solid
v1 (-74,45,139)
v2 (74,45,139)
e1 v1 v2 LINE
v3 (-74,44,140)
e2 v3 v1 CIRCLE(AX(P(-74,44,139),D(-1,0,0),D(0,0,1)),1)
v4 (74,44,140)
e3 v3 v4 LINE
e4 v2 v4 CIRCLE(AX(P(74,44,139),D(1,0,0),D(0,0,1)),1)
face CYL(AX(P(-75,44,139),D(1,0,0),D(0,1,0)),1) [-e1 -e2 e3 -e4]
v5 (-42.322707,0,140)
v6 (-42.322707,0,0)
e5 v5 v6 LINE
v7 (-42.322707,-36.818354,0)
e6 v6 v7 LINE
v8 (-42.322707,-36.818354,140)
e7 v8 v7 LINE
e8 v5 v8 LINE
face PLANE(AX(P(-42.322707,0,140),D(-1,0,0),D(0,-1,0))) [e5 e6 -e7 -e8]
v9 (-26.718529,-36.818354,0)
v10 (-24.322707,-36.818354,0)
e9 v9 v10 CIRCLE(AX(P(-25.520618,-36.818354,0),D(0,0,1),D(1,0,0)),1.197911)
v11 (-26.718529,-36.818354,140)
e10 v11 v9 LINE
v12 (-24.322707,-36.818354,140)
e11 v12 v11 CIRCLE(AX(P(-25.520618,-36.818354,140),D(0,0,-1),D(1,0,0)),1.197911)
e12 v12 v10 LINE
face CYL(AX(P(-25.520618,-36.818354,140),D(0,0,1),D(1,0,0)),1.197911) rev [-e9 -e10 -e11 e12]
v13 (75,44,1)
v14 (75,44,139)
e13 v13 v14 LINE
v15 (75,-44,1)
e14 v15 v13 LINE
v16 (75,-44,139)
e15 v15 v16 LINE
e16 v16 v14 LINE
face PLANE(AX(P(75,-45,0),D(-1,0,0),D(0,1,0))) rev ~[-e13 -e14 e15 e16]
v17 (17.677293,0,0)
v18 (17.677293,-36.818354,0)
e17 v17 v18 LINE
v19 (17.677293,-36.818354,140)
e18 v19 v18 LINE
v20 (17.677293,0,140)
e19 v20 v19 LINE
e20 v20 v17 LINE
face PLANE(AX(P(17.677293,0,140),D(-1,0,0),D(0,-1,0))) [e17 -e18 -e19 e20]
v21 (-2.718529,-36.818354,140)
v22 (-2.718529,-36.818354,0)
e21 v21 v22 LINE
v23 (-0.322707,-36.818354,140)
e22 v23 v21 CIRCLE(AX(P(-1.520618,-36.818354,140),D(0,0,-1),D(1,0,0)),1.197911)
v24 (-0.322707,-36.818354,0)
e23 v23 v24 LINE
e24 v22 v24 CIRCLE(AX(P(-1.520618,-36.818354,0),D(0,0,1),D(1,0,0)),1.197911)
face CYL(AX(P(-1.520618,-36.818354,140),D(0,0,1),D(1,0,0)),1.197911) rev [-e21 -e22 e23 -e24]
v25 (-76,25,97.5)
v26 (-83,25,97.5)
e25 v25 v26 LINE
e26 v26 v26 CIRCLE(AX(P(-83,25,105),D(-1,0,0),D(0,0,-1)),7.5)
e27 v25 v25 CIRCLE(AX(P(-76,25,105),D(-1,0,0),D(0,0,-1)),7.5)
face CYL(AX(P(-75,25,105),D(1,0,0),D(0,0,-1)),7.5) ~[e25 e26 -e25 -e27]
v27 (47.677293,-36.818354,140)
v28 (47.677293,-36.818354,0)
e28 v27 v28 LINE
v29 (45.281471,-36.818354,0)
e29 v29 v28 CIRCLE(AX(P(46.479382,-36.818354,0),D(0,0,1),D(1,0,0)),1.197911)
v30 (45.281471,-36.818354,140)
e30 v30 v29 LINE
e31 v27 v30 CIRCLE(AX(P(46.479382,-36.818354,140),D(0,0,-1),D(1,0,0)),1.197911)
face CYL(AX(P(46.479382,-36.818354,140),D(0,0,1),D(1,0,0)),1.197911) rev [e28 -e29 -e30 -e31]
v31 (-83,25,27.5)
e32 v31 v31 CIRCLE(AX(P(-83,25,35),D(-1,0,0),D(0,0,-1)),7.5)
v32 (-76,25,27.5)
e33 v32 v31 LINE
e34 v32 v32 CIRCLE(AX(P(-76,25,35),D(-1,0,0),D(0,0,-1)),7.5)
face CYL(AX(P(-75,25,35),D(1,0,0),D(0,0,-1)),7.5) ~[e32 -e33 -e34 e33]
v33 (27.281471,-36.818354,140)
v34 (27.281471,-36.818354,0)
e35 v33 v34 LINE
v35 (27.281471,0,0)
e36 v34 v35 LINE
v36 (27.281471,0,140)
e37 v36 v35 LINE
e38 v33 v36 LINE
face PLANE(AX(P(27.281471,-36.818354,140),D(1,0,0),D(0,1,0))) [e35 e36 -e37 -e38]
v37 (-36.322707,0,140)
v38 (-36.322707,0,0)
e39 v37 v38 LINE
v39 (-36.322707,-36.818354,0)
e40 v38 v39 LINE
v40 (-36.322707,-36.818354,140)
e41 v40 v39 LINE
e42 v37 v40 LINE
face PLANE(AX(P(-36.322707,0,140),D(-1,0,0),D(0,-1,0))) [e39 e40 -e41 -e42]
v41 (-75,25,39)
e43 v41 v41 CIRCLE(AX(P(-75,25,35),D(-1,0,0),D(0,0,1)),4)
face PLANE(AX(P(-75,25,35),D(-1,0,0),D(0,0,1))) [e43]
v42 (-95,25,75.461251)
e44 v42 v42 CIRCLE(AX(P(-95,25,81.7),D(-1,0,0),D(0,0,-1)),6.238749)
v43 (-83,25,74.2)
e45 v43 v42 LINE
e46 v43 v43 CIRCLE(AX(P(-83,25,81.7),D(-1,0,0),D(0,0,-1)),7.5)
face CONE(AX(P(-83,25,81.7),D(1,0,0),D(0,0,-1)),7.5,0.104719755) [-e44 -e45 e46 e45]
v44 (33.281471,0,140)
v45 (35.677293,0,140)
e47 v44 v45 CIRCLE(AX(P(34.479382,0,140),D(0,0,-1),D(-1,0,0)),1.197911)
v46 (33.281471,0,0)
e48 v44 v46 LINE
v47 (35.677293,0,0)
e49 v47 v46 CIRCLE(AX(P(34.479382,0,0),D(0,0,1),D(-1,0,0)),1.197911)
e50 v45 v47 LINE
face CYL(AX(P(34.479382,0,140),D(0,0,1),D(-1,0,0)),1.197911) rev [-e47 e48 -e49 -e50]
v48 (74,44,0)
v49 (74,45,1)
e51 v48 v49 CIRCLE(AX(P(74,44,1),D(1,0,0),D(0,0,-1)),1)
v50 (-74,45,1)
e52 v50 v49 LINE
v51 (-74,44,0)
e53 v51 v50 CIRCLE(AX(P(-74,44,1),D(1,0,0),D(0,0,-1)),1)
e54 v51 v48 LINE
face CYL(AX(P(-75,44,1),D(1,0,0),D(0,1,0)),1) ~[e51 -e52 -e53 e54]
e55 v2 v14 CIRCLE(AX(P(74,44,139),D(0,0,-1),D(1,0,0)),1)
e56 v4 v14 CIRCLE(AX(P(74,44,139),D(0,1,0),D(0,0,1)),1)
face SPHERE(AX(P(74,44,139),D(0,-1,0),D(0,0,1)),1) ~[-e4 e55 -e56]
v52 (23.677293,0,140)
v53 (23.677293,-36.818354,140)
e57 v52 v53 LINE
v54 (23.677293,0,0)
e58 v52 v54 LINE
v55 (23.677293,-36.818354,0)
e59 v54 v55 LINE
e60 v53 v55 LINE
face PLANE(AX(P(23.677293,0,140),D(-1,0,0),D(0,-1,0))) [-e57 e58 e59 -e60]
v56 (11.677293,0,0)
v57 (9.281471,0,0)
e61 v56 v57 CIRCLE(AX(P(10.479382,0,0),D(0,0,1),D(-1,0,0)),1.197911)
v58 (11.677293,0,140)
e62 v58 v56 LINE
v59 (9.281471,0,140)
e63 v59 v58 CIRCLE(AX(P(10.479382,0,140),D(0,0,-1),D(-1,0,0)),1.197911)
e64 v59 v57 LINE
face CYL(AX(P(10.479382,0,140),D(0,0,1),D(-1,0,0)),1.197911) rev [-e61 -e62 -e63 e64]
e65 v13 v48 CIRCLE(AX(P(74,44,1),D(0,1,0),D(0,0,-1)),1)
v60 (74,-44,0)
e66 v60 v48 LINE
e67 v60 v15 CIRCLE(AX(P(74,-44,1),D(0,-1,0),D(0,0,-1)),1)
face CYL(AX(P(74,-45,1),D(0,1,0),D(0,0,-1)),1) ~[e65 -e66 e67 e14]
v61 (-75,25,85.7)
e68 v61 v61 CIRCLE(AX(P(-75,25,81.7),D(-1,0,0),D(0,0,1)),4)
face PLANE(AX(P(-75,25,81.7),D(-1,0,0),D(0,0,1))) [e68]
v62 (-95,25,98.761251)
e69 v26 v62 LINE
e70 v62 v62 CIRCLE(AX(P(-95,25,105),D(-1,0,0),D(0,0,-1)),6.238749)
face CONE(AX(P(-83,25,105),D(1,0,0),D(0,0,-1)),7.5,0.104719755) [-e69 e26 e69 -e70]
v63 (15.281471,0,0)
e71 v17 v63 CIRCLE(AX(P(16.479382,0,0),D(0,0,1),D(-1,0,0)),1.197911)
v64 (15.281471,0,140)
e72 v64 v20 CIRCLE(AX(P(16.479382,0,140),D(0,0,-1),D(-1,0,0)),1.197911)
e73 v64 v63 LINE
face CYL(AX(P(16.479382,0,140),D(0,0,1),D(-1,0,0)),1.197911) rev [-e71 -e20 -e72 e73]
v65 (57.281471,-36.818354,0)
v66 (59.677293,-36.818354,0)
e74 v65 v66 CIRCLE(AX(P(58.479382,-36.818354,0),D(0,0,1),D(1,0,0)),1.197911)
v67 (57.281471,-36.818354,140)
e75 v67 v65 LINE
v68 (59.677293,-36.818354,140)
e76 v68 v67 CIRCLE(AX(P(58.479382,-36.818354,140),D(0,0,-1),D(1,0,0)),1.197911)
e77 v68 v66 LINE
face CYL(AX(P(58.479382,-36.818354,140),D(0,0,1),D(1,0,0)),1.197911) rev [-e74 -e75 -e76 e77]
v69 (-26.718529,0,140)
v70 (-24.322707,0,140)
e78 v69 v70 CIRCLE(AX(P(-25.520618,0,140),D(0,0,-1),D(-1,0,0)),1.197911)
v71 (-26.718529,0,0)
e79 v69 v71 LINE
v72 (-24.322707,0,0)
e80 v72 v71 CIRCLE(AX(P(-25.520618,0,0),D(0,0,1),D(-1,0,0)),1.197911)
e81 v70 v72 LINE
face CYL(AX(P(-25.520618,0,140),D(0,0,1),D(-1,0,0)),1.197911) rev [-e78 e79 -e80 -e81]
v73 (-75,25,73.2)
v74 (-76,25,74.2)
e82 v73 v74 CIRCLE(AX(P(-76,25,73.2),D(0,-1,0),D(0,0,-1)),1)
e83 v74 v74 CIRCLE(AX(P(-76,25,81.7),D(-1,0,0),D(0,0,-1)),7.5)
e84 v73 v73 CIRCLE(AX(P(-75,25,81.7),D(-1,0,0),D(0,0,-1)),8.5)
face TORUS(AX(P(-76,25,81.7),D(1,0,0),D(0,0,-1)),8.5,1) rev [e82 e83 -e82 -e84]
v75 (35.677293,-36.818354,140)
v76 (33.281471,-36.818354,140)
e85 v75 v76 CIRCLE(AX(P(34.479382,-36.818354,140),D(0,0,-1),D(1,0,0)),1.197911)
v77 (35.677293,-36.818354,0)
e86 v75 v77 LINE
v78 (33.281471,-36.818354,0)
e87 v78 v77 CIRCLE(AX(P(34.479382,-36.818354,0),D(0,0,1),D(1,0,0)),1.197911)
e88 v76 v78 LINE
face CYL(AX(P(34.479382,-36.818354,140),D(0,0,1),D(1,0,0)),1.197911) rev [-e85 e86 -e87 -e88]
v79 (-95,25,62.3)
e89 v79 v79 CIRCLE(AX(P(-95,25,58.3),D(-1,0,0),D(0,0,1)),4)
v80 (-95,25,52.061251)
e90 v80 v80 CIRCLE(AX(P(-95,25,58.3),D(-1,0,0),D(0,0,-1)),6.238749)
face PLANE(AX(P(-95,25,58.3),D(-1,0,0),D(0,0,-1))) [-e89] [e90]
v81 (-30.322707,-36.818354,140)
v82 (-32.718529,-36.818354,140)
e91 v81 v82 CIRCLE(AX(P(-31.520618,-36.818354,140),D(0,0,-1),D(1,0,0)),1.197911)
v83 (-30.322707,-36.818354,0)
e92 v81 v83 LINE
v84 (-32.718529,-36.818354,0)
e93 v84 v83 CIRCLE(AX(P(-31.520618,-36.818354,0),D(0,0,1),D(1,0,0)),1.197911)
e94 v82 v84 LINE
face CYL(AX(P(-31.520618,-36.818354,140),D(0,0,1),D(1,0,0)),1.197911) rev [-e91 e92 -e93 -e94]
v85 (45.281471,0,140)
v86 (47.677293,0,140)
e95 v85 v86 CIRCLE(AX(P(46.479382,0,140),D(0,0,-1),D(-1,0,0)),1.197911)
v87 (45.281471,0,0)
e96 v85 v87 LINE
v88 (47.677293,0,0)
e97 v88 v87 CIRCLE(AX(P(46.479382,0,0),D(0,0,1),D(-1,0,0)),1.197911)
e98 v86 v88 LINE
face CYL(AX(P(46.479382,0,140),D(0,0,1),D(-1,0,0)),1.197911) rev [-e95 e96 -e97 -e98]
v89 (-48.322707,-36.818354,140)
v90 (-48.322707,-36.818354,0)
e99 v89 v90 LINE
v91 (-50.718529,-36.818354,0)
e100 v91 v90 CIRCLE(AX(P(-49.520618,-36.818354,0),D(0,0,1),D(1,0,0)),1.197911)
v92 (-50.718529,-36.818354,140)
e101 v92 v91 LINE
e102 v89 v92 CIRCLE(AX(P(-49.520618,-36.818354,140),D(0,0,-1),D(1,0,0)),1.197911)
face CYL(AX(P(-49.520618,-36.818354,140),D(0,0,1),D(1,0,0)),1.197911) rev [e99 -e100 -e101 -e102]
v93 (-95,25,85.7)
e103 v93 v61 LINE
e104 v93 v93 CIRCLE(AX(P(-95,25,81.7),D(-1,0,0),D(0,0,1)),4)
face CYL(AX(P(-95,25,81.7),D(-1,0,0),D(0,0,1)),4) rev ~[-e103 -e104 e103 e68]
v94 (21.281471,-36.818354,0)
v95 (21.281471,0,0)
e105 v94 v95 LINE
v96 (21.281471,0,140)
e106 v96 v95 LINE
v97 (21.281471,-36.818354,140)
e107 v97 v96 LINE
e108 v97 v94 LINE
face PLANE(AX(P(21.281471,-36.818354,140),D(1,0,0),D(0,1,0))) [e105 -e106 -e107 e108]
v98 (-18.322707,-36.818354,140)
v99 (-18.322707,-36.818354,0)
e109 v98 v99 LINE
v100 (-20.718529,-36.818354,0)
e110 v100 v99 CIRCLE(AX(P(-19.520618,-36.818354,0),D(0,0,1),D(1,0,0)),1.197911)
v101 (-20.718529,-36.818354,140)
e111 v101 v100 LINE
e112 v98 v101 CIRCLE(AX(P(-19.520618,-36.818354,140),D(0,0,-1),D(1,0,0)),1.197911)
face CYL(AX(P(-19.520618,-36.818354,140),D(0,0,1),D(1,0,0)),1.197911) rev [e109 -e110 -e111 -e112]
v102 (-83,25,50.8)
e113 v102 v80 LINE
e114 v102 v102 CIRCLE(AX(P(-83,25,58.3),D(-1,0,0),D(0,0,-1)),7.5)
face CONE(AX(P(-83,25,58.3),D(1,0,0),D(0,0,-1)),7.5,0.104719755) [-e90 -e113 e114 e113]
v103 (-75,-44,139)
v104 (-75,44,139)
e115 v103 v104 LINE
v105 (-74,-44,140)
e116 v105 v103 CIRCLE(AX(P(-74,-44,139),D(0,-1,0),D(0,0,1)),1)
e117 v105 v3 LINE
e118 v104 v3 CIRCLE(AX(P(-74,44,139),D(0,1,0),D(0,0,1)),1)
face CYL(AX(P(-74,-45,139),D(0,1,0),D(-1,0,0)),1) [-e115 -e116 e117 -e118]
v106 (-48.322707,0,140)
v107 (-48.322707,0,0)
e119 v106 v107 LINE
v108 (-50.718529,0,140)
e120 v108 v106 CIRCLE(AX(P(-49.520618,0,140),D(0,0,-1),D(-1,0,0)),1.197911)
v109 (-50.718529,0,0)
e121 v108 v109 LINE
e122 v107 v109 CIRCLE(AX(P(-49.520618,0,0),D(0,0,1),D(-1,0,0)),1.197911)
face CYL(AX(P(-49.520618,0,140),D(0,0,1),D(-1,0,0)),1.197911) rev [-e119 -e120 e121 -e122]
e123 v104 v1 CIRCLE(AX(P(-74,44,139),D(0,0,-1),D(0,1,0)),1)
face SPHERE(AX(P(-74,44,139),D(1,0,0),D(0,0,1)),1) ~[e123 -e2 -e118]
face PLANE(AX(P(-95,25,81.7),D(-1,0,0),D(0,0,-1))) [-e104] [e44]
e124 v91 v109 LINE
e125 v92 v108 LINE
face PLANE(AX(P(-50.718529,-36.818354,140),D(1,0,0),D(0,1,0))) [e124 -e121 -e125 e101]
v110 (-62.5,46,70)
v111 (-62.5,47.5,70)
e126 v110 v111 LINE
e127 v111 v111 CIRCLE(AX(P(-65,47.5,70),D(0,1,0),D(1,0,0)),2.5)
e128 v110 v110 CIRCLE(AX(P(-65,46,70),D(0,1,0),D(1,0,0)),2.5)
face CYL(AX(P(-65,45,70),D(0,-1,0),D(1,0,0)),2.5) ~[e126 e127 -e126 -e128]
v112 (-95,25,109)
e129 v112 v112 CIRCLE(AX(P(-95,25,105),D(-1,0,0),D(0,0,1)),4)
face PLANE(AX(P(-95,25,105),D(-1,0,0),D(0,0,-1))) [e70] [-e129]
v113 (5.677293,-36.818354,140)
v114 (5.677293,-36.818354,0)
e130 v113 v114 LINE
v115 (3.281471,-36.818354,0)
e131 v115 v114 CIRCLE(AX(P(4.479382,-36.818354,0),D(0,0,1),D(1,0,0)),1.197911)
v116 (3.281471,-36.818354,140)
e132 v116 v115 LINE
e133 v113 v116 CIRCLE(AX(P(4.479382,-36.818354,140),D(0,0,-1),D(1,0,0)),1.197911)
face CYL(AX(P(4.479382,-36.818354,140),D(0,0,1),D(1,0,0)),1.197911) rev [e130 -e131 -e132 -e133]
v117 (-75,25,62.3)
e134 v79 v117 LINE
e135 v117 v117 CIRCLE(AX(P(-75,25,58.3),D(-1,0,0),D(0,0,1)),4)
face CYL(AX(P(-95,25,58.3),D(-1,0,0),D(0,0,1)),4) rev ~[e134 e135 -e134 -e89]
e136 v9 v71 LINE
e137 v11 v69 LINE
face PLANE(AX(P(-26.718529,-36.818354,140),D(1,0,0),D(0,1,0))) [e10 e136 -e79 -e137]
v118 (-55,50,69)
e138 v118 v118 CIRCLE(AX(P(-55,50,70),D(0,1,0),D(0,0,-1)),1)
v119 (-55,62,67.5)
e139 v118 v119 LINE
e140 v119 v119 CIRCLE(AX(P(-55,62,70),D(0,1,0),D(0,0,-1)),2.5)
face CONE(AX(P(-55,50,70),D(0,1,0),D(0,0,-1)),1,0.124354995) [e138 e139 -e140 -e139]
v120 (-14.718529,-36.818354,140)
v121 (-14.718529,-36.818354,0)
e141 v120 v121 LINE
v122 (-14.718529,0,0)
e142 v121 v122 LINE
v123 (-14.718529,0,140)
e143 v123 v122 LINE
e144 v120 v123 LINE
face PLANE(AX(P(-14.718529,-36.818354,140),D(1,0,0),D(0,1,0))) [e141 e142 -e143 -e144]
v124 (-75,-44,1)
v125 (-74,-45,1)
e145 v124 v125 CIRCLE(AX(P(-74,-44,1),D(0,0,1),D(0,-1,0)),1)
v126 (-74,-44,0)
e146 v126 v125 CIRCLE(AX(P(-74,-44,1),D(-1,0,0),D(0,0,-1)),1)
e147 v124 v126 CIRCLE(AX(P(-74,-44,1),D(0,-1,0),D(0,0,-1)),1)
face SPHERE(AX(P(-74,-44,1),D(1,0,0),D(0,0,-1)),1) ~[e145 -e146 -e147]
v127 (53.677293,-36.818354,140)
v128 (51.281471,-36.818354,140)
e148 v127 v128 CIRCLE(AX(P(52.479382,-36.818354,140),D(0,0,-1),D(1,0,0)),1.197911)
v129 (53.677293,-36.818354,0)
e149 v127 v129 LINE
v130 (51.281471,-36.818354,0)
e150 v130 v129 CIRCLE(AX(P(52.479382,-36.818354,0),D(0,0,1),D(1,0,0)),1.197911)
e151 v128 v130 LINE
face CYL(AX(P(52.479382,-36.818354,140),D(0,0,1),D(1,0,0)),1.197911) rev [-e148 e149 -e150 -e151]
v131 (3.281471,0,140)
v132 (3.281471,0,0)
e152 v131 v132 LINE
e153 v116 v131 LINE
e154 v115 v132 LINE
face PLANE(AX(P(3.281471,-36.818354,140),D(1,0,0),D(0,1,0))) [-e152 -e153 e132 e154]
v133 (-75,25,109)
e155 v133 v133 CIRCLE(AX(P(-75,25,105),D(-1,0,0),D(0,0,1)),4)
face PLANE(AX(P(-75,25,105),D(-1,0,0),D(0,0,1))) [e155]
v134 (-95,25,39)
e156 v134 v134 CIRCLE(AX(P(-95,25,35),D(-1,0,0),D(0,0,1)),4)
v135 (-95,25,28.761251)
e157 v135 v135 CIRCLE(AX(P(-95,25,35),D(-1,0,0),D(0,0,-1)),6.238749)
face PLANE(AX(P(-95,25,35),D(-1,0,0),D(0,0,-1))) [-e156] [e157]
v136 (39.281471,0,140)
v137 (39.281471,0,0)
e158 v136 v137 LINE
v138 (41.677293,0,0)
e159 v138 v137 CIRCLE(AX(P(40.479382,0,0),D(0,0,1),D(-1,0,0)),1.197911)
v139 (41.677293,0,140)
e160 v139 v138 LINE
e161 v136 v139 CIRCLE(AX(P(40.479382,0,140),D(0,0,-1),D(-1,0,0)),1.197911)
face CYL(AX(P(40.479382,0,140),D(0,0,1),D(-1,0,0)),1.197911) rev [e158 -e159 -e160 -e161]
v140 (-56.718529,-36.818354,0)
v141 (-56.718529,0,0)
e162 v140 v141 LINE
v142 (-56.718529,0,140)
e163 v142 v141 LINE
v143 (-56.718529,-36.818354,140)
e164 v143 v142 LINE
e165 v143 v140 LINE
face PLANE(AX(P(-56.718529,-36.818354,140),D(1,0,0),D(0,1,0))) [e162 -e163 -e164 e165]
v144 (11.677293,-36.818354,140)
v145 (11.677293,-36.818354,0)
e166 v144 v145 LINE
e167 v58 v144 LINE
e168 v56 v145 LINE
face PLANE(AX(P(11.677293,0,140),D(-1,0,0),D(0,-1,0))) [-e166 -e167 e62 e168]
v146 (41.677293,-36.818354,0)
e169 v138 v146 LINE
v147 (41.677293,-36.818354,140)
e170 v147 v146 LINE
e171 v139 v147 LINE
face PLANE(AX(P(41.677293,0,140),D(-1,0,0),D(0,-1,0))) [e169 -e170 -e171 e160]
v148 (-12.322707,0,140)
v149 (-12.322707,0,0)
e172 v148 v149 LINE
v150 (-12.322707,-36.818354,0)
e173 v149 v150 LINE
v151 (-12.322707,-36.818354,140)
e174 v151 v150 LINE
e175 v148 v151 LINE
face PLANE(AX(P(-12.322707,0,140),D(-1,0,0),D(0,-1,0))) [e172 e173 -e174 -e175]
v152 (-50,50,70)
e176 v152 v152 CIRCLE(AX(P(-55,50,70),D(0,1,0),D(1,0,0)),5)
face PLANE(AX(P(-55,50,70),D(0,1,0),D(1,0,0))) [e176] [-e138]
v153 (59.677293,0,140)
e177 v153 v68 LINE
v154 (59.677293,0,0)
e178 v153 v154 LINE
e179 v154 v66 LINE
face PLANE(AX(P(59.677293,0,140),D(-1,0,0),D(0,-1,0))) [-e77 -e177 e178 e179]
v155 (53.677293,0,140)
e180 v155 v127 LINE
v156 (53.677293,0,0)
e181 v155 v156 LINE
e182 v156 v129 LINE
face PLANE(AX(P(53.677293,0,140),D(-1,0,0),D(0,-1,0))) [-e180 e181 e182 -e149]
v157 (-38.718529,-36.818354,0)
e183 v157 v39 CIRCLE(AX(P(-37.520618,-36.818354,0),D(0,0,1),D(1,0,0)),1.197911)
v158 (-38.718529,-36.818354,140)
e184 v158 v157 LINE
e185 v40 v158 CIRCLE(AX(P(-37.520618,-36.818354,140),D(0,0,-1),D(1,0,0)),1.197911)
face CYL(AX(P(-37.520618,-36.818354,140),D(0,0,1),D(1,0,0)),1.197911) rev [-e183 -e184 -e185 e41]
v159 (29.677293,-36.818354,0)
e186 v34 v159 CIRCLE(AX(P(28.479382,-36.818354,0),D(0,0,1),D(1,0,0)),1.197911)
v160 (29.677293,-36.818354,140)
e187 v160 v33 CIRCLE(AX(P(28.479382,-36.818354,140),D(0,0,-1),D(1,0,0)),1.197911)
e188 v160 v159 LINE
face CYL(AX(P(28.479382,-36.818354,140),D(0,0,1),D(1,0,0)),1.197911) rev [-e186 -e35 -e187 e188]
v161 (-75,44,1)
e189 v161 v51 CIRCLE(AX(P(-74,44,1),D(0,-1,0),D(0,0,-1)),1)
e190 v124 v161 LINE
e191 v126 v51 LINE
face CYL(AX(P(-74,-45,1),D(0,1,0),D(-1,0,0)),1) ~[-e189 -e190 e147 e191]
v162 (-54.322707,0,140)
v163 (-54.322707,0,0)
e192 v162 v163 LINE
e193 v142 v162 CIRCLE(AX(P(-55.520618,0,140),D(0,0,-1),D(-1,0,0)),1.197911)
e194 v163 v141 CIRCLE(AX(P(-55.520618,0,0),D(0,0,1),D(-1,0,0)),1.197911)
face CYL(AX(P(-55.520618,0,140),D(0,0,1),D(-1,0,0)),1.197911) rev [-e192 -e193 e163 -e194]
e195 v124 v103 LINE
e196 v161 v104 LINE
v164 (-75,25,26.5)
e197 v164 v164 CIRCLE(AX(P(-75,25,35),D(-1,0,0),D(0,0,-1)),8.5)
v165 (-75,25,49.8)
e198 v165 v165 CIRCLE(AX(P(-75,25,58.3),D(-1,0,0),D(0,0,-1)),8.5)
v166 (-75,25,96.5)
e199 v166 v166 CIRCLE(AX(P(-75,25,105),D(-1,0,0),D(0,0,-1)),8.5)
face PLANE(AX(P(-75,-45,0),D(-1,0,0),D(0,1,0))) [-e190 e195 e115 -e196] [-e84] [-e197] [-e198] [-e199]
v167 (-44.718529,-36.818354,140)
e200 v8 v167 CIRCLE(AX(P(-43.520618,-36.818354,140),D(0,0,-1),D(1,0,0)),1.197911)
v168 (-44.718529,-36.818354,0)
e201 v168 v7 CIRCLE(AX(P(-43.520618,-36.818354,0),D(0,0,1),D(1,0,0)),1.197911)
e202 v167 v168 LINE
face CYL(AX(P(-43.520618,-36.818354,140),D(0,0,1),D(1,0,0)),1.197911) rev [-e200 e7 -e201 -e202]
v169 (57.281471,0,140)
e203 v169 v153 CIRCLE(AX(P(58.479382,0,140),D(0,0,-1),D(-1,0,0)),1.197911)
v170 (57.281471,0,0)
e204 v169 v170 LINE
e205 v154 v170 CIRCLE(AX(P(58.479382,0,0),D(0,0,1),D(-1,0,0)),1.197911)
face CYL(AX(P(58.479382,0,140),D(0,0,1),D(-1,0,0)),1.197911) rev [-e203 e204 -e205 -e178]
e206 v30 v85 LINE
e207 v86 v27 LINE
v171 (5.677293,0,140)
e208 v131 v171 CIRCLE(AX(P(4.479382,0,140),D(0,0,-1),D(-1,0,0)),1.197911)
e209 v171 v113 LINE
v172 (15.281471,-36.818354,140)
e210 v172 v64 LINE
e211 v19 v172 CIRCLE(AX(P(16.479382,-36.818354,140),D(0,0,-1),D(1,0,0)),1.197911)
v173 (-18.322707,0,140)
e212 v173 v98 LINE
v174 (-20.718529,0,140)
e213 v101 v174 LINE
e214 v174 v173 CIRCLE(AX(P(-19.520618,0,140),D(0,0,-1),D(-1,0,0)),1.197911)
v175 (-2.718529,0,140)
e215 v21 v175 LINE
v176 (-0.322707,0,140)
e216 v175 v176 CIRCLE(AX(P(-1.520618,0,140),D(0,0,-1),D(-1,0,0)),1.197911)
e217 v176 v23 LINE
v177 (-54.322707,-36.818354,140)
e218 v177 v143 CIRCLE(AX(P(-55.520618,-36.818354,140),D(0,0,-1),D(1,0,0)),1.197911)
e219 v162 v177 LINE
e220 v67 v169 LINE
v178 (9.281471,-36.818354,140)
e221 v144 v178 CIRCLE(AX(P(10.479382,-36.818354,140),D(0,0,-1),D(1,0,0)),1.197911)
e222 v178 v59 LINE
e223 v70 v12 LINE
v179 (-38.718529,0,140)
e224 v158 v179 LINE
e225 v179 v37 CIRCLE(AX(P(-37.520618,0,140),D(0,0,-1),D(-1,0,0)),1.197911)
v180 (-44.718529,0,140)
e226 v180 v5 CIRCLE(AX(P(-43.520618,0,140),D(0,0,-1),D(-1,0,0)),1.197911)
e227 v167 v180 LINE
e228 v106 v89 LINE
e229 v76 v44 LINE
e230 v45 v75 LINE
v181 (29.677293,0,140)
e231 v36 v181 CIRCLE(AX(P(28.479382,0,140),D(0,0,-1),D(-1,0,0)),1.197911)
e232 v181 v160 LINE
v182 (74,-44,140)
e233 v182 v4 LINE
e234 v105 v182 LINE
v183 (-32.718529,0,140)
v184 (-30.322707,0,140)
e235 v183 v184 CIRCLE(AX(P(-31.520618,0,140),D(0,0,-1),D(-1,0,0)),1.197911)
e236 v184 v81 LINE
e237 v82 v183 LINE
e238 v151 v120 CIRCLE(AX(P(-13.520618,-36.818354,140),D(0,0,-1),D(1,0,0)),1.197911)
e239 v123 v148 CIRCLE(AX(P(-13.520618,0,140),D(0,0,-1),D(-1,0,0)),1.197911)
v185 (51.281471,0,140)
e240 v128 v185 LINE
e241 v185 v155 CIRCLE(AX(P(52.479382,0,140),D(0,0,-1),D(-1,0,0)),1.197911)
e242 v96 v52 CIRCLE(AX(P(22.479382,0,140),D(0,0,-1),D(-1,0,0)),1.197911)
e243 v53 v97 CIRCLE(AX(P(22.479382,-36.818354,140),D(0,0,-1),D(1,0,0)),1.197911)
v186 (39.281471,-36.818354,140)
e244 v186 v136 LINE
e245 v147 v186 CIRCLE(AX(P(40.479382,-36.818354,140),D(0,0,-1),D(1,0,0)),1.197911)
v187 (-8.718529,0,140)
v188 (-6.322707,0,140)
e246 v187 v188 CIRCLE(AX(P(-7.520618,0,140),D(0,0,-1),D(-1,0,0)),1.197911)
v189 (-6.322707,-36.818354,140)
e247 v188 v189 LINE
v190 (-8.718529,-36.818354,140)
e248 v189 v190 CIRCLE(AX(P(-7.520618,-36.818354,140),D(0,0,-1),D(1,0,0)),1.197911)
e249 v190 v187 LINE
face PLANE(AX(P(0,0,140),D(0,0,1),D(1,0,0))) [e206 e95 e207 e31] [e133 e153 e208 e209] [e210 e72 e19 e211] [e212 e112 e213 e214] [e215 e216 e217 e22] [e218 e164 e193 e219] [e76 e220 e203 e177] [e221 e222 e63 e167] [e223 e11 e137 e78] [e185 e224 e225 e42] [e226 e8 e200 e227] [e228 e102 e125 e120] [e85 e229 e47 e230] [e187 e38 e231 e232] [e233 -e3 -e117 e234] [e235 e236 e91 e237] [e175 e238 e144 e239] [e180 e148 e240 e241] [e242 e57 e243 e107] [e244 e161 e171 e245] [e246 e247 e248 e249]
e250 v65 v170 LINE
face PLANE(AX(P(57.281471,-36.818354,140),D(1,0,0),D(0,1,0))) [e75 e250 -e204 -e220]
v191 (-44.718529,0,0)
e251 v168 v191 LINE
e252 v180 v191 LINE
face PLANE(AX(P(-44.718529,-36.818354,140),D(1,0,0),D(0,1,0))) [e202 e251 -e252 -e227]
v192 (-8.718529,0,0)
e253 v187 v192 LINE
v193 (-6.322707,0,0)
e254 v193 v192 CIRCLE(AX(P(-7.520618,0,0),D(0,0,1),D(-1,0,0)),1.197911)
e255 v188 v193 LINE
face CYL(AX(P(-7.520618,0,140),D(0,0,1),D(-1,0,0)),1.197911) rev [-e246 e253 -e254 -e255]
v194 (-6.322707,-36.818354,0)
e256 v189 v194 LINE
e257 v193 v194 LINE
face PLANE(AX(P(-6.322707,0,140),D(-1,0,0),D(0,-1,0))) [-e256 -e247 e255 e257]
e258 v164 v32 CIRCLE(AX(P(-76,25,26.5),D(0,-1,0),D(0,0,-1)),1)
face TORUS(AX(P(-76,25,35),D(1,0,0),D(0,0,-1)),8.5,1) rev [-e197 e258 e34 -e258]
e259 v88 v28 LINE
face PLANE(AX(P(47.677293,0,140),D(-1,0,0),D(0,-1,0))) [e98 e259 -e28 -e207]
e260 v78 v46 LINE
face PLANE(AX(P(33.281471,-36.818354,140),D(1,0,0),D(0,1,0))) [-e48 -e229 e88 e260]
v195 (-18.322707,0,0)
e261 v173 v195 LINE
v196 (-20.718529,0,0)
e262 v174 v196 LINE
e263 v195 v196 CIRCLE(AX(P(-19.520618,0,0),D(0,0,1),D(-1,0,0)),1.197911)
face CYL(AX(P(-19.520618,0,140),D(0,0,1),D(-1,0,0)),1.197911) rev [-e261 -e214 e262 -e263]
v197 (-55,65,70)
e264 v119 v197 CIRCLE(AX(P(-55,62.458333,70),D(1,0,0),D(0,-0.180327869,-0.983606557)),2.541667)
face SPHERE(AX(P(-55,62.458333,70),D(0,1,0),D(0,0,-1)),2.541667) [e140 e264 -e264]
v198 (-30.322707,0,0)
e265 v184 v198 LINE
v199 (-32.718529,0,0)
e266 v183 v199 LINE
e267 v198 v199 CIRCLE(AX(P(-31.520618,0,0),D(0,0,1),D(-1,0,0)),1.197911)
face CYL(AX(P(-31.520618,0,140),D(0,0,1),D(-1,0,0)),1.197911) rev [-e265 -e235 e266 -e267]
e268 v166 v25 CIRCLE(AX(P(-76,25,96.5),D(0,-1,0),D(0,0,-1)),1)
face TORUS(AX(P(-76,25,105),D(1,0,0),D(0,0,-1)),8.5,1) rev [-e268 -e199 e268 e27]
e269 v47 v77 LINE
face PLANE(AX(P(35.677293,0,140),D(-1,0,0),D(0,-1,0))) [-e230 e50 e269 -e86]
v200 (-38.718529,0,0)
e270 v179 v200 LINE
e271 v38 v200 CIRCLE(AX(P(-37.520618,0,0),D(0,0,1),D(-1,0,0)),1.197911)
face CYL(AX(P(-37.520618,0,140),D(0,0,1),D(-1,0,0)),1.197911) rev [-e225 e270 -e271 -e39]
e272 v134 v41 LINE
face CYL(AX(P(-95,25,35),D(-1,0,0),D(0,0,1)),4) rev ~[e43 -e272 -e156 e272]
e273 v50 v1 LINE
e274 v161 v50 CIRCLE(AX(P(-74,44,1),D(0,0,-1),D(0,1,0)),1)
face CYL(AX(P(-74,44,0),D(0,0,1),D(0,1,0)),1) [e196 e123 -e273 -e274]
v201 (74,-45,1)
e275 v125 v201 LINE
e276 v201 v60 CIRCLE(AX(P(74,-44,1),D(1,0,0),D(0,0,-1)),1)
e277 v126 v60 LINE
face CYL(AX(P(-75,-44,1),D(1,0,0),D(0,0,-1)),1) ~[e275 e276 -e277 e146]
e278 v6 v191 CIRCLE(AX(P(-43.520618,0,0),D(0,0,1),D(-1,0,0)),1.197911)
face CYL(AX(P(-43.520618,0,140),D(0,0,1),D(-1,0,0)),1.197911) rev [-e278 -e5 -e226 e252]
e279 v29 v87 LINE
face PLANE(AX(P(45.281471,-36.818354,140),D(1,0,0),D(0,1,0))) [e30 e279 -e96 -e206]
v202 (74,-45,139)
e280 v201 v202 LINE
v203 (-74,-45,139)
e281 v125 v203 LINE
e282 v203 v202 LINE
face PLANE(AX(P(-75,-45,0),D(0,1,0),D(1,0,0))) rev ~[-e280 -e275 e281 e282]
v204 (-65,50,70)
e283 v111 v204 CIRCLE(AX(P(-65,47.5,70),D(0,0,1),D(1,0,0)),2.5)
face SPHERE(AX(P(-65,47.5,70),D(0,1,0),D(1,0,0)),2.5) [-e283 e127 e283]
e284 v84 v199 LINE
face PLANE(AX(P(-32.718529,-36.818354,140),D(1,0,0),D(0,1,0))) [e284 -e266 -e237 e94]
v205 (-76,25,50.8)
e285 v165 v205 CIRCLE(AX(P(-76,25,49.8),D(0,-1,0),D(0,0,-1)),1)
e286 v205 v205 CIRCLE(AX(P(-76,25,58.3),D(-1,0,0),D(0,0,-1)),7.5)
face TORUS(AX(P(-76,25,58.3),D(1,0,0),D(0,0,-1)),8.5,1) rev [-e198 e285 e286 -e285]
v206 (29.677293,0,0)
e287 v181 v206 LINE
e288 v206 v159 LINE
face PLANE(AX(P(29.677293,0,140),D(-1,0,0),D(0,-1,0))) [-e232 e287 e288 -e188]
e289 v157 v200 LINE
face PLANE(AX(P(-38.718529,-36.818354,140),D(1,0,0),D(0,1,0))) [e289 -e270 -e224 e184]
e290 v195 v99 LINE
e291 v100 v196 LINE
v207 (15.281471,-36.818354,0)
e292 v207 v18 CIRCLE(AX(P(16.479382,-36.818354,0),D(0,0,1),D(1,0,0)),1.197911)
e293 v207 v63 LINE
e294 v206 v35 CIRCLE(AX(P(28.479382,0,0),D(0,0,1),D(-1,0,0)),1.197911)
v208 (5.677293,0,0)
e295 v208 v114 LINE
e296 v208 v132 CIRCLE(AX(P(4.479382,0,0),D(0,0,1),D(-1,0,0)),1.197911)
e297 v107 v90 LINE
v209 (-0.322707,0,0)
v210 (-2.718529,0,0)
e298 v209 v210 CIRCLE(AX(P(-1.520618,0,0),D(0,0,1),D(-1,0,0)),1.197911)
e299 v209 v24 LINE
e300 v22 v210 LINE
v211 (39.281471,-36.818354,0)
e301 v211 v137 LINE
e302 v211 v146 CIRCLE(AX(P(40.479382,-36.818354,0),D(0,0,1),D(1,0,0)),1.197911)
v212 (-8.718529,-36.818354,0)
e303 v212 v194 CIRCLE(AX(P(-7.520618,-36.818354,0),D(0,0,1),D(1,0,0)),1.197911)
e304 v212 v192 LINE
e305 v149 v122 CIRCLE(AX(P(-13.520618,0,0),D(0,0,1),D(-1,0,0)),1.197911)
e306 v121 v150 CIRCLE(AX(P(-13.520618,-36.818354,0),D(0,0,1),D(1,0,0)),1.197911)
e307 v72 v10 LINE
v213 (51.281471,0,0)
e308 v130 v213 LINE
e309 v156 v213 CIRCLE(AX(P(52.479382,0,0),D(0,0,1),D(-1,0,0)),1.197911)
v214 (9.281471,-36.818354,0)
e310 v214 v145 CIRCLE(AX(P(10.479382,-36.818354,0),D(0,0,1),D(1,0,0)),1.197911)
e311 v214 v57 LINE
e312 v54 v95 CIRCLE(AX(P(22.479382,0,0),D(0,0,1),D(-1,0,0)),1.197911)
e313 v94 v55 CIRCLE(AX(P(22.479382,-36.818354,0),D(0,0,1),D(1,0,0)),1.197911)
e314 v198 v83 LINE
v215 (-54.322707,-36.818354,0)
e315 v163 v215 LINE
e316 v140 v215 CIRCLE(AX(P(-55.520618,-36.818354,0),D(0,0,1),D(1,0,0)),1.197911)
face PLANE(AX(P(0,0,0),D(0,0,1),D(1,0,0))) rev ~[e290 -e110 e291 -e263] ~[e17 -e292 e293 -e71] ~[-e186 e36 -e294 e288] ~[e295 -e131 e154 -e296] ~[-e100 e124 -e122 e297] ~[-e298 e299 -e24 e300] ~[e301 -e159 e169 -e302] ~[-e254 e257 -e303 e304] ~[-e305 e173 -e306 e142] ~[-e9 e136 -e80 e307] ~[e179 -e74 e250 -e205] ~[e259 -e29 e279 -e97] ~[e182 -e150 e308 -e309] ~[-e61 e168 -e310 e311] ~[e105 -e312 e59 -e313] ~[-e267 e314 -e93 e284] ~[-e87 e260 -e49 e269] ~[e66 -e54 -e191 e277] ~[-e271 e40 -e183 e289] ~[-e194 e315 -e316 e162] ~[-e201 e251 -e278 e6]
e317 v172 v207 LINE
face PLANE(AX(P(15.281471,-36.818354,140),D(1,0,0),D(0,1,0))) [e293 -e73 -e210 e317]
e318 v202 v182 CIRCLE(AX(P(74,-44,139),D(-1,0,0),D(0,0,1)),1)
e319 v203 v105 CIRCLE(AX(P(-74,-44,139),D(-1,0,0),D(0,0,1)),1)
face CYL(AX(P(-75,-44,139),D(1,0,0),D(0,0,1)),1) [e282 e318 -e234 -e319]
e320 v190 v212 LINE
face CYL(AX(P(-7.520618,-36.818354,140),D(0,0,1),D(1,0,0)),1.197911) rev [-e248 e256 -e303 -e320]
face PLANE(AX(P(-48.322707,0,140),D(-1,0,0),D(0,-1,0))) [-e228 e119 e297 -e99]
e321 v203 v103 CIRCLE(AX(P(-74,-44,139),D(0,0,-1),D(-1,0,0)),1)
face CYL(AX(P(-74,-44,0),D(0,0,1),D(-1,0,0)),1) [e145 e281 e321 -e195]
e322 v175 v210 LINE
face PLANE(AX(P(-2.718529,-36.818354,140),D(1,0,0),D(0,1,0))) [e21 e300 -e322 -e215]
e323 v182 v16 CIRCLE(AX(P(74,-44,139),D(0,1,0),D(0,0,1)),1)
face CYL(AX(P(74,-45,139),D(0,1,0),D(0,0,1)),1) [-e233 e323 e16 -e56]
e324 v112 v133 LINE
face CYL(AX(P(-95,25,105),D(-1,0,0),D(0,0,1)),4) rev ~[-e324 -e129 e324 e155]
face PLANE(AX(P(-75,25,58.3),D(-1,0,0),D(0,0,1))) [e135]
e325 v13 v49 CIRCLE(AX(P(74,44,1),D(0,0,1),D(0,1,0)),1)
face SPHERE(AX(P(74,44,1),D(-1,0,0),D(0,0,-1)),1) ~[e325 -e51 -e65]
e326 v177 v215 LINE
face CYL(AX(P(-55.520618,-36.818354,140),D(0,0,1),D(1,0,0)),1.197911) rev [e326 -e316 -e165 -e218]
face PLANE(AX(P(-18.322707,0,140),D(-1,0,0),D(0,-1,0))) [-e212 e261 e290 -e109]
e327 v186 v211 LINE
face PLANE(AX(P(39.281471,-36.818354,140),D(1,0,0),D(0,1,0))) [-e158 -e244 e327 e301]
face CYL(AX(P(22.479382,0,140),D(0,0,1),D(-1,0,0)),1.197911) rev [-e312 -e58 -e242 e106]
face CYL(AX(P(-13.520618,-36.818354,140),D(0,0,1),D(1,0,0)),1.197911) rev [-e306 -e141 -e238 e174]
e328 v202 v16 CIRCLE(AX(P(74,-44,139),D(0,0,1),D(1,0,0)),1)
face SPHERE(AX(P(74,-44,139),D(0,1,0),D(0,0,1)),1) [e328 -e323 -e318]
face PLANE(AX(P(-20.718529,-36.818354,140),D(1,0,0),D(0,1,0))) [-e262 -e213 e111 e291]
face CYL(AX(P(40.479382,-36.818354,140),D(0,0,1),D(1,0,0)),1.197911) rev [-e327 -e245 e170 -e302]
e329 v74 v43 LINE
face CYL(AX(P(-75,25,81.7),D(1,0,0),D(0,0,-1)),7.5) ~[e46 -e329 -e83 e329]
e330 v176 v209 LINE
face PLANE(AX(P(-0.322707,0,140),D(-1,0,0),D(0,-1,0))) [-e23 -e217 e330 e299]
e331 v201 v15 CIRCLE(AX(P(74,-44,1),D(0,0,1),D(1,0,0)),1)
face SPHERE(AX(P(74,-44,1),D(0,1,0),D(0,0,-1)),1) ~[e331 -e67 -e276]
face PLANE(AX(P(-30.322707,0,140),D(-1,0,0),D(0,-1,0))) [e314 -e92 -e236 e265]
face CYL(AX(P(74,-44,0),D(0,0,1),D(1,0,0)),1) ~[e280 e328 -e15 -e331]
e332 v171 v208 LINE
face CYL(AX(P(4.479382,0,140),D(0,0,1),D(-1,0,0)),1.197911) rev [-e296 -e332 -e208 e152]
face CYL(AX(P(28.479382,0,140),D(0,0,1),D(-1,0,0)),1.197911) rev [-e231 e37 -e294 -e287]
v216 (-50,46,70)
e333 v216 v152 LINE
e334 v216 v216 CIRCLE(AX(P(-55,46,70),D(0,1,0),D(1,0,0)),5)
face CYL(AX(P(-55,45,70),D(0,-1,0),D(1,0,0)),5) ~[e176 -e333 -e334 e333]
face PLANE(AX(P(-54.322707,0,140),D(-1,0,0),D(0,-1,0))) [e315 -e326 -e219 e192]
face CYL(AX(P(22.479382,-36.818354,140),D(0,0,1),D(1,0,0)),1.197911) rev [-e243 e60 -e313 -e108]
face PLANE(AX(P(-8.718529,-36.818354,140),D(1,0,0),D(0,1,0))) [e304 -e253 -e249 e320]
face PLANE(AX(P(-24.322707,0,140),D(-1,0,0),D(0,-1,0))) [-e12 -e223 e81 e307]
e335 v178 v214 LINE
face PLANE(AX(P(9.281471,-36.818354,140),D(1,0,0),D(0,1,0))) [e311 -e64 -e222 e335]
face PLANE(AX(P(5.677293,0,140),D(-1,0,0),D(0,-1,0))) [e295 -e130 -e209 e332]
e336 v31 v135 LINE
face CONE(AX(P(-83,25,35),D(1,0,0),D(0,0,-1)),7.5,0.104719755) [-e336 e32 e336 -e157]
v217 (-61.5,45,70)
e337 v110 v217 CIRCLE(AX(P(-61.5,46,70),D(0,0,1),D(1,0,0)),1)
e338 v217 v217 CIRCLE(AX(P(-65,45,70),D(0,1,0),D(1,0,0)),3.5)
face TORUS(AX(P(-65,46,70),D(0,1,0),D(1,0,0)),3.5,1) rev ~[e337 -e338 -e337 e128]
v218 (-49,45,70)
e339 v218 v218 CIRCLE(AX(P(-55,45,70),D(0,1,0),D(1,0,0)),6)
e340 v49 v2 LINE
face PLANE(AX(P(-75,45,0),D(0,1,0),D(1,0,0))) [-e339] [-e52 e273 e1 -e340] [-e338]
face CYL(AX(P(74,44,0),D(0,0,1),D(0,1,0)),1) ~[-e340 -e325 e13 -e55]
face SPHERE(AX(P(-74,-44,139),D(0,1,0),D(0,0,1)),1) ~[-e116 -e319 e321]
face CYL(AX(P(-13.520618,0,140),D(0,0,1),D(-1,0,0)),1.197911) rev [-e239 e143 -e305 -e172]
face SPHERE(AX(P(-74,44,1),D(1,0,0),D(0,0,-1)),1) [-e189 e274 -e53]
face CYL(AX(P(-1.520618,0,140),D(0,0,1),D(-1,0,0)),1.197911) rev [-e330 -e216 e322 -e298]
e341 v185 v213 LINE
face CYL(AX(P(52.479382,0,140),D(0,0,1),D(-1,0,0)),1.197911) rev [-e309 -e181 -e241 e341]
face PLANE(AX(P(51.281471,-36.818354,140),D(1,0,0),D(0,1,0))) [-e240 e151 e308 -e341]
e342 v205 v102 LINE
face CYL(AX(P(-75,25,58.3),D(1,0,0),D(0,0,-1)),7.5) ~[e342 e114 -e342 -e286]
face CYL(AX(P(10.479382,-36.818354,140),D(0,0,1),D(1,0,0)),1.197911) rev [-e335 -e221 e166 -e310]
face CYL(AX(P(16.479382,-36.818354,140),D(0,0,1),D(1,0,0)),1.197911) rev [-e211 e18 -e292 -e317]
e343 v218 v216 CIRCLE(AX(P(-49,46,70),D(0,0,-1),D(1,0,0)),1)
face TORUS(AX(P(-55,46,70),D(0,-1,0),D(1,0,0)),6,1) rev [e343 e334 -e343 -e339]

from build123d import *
from OCP.BRepFilletAPI import BRepFilletAPI_MakeChamfer

# Parameters (mm, degrees)
SKETCH1_W           = 150
SKETCH1_H           = 90
BOSS_EXTRUDE1_DEPTH = 140
SKETCH2_R           = 7.5
BOSS_EXTRUDE2_DEPTH = 20
CHAMFER1_SIZE       = 12
CHAMFER1_SIZE2      = 1.261250823
SKETCH3_R           = 4
CUT_EXTRUDE1_DEPTH  = 20
SKETCH4_R           = 2.5
BOSS_EXTRUDE3_DEPTH = 5
FILLET4_R           = 2.5
SKETCH5_R           = 5
BOSS_EXTRUDE4_DEPTH = 5
FILLET5_R           = 1
CUT_EXTRUDE2_DEPTH  = 182.245689604


with BuildPart() as part:
    # Sketch1 → Boss-Extrude1 (new body)
    with BuildSketch(Plane.XY):
        Rectangle(SKETCH1_W, SKETCH1_H)
    extrude(amount=BOSS_EXTRUDE1_DEPTH)

    # Sketch2 → Boss-Extrude2 (add)
    with BuildSketch(Plane.ZY.offset(75)):
        with Locations(Location((35, 25, 0), (0, 0, 180))):
            Circle(SKETCH2_R)
        with Locations(Location((105, 25, 0), (0, 0, 180))):
            Circle(SKETCH2_R)
        with Locations(Location((58.3, 25, 0), (0, 0, 180))):
            Circle(SKETCH2_R)
        with Locations(Location((81.7, 25, 0), (0, 0, 180))):
            Circle(SKETCH2_R)
    extrude(amount=BOSS_EXTRUDE2_DEPTH)

    # Chamfer1: one chamfer whose edges measure the first distance from different faces: ONE call of the kernel's chamfer builder (chamfer() names one face for all edges)
    chamfer1_edges_1 = [part.edges().sort_by_distance(p)[0] for p in [
        (-95, 25, 42.5),
    ]]
    chamfer1_side_1 = [part.faces().sort_by_distance(p)[0] for p in [
        (-85, 25, 42.5),
    ]]
    chamfer1_edges_2 = [part.edges().sort_by_distance(p)[0] for p in [
        (-95, 25, 112.5),
    ]]
    chamfer1_side_2 = [part.faces().sort_by_distance(p)[0] for p in [
        (-85, 25, 112.5),
    ]]
    chamfer1_edges_3 = [part.edges().sort_by_distance(p)[0] for p in [
        (-95, 25, 65.8),
    ]]
    chamfer1_side_3 = [part.faces().sort_by_distance(p)[0] for p in [
        (-85, 25, 65.8),
    ]]
    chamfer1_edges_4 = [part.edges().sort_by_distance(p)[0] for p in [
        (-95, 25, 89.2),
    ]]
    chamfer1_side_4 = [part.faces().sort_by_distance(p)[0] for p in [
        (-85, 25, 89.2),
    ]]
    chamfer1 = BRepFilletAPI_MakeChamfer(part.part.solid().wrapped)
    for e in chamfer1_edges_1:
        chamfer1.Add(CHAMFER1_SIZE, CHAMFER1_SIZE2, e.wrapped, chamfer1_side_1[0].wrapped)  # the first distance lies on this face
    for e in chamfer1_edges_2:
        chamfer1.Add(CHAMFER1_SIZE, CHAMFER1_SIZE2, e.wrapped, chamfer1_side_2[0].wrapped)  # the first distance lies on this face
    for e in chamfer1_edges_3:
        chamfer1.Add(CHAMFER1_SIZE, CHAMFER1_SIZE2, e.wrapped, chamfer1_side_3[0].wrapped)  # the first distance lies on this face
    for e in chamfer1_edges_4:
        chamfer1.Add(CHAMFER1_SIZE, CHAMFER1_SIZE2, e.wrapped, chamfer1_side_4[0].wrapped)  # the first distance lies on this face
    add(Compound.cast(chamfer1.Shape()), mode=Mode.REPLACE)

    # Sketch3 → Cut-Extrude1 (cut)
    with BuildSketch(Plane.ZY.offset(95)):
        with Locations((35, 25)):
            Circle(SKETCH3_R)
        with Locations((58.3, 25)):
            Circle(SKETCH3_R)
        with Locations((81.7, 25)):
            Circle(SKETCH3_R)
        with Locations((105, 25)):
            Circle(SKETCH3_R)
    extrude(amount=-CUT_EXTRUDE1_DEPTH, mode=Mode.SUBTRACT)

    # Sketch4 → Boss-Extrude3 (add)
    with BuildSketch(Plane(origin=(0, 45, 0), x_dir=(1, 0, 0), z_dir=(0, 1, 0))):
        with Locations((-65, -70)):
            Circle(SKETCH4_R)
    extrude(amount=BOSS_EXTRUDE3_DEPTH)

    # Fillet4
    fillet4_edges = [part.edges().sort_by_distance(p)[0] for p in [
        (-67.5, 50, 70),
    ]]
    fillet(fillet4_edges, radius=FILLET4_R)

    # Sketch5 → Boss-Extrude4 (add)
    with BuildSketch(Plane(origin=(0, 45, 0), x_dir=(1, 0, 0), z_dir=(0, 1, 0))):
        with Locations((-55, -70)):
            Circle(SKETCH5_R)
    extrude(amount=BOSS_EXTRUDE4_DEPTH)

    # Sketch8 → Revolve6 (revolve)
    with BuildSketch(Plane(origin=(0, 0, 70), x_dir=(-1, 0, 0), z_dir=(0, 0, -1)), mode=Mode.PRIVATE) as revolve6_sk:
        with BuildLine():
            Line((54, 50), (52.5, 62))
            ThreePointArc((52.5, 62), (53.047437581, 64.085468682), (55, 65))
            Line((55, 65), (55, 50))
            Line((55, 50), (54, 50))
        make_face()
    revolve(revolve6_sk.sketch.rotate(Axis((-55, 50, 70), (0, 1, 0)), 90), axis=Axis((-55, 50, 70), (0, 1, 0)))

    # Fillet5
    fillet5_edges = [part.edges().sort_by_distance(p)[0] for p in [
        (75, 0, 140),
        (0, 45, 140),
        (-75, 25, 42.5),
        (-75, 25, 112.5),
        (-75, 25, 65.8),
        (-75, 25, 89.2),
        (-75, 0, 140),
        (0, 45, 0),
        (75, 0, 0),
        (0, -45, 0),
        (-75, 0, 0),
        (-67.5, 45, 70),
        (-60, 45, 70),
        (0, -45, 140),
        (-75, 45, 70),
        (75, 45, 70),
        (75, -45, 70),
        (-75, -45, 70),
    ]]
    fillet(fillet5_edges, radius=FILLET5_R)

    # Sketch9 → Cut-Extrude2 (cut, through all)
    with BuildSketch(Plane.XY.offset(140)):
        with BuildLine():
            Line((-54.322706543, 0), (-54.322706543, -36.818354434))
            ThreePointArc((-54.322706543, -36.818354434), (-55.520617531, -38.016265422), (-56.718528519, -36.818354434))
            Line((-56.718528519, -36.818354434), (-56.718528519, 0))
            ThreePointArc((-56.718528519, 0), (-55.520617531, 1.197910988), (-54.322706543, 0))
        make_face()
        with BuildLine():
            Line((-48.322706543, 0), (-48.322706543, -36.818354434))
            ThreePointArc((-48.322706543, -36.818354434), (-49.520617531, -38.016265422), (-50.718528519, -36.818354434))
            Line((-50.718528519, -36.818354434), (-50.718528519, 0))
            ThreePointArc((-50.718528519, 0), (-49.520617531, 1.197910988), (-48.322706543, 0))
        make_face()
        with BuildLine():
            Line((-42.322706543, 0), (-42.322706543, -36.818354434))
            ThreePointArc((-42.322706543, -36.818354434), (-43.520617531, -38.016265422), (-44.718528519, -36.818354434))
            Line((-44.718528519, -36.818354434), (-44.718528519, 0))
            ThreePointArc((-44.718528519, 0), (-43.520617531, 1.197910988), (-42.322706543, 0))
        make_face()
        with BuildLine():
            Line((-36.322706543, 0), (-36.322706543, -36.818354434))
            ThreePointArc((-36.322706543, -36.818354434), (-37.520617531, -38.016265422), (-38.718528519, -36.818354434))
            Line((-38.718528519, -36.818354434), (-38.718528519, 0))
            ThreePointArc((-38.718528519, 0), (-37.520617531, 1.197910988), (-36.322706543, 0))
        make_face()
        with BuildLine():
            Line((-30.322706543, 0), (-30.322706543, -36.818354434))
            ThreePointArc((-30.322706543, -36.818354434), (-31.520617531, -38.016265422), (-32.718528519, -36.818354434))
            Line((-32.718528519, -36.818354434), (-32.718528519, 0))
            ThreePointArc((-32.718528519, 0), (-31.520617531, 1.197910988), (-30.322706543, 0))
        make_face()
        with BuildLine():
            Line((-24.322706543, 0), (-24.322706543, -36.818354434))
            ThreePointArc((-24.322706543, -36.818354434), (-25.520617531, -38.016265422), (-26.718528519, -36.818354434))
            Line((-26.718528519, -36.818354434), (-26.718528519, 0))
            ThreePointArc((-26.718528519, 0), (-25.520617531, 1.197910988), (-24.322706543, 0))
        make_face()
        with BuildLine():
            Line((-18.322706543, 0), (-18.322706543, -36.818354434))
            ThreePointArc((-18.322706543, -36.818354434), (-19.520617531, -38.016265422), (-20.718528519, -36.818354434))
            Line((-20.718528519, -36.818354434), (-20.718528519, 0))
            ThreePointArc((-20.718528519, 0), (-19.520617531, 1.197910988), (-18.322706543, 0))
        make_face()
        with BuildLine():
            Line((-12.322706543, 0), (-12.322706543, -36.818354434))
            ThreePointArc((-12.322706543, -36.818354434), (-13.520617531, -38.016265422), (-14.718528519, -36.818354434))
            Line((-14.718528519, -36.818354434), (-14.718528519, 0))
            ThreePointArc((-14.718528519, 0), (-13.520617531, 1.197910988), (-12.322706543, 0))
        make_face()
        with BuildLine():
            Line((-6.322706543, 0), (-6.322706543, -36.818354434))
            ThreePointArc((-6.322706543, -36.818354434), (-7.520617531, -38.016265422), (-8.718528519, -36.818354434))
            Line((-8.718528519, -36.818354434), (-8.718528519, 0))
            ThreePointArc((-8.718528519, 0), (-7.520617531, 1.197910988), (-6.322706543, 0))
        make_face()
        with BuildLine():
            Line((-0.322706543, 0), (-0.322706543, -36.818354434))
            ThreePointArc((-0.322706543, -36.818354434), (-1.520617531, -38.016265422), (-2.718528519, -36.818354434))
            Line((-2.718528519, -36.818354434), (-2.718528519, 0))
            ThreePointArc((-2.718528519, 0), (-1.520617531, 1.197910988), (-0.322706543, 0))
        make_face()
        with BuildLine():
            Line((5.677293457, 0), (5.677293457, -36.818354434))
            ThreePointArc((5.677293457, -36.818354434), (4.479382469, -38.016265422), (3.281471481, -36.818354434))
            Line((3.281471481, -36.818354434), (3.281471481, 0))
            ThreePointArc((3.281471481, 0), (4.479382469, 1.197910988), (5.677293457, 0))
        make_face()
        with BuildLine():
            Line((11.677293457, 0), (11.677293457, -36.818354434))
            ThreePointArc((11.677293457, -36.818354434), (10.479382469, -38.016265422), (9.281471481, -36.818354434))
            Line((9.281471481, -36.818354434), (9.281471481, 0))
            ThreePointArc((9.281471481, 0), (10.479382469, 1.197910988), (11.677293457, 0))
        make_face()
        with BuildLine():
            Line((17.677293457, 0), (17.677293457, -36.818354434))
            ThreePointArc((17.677293457, -36.818354434), (16.479382469, -38.016265422), (15.281471481, -36.818354434))
            Line((15.281471481, -36.818354434), (15.281471481, 0))
            ThreePointArc((15.281471481, 0), (16.479382469, 1.197910988), (17.677293457, 0))
        make_face()
        with BuildLine():
            Line((23.677293457, 0), (23.677293457, -36.818354434))
            ThreePointArc((23.677293457, -36.818354434), (22.479382469, -38.016265422), (21.281471481, -36.818354434))
            Line((21.281471481, -36.818354434), (21.281471481, 0))
            ThreePointArc((21.281471481, 0), (22.479382469, 1.197910988), (23.677293457, 0))
        make_face()
        with BuildLine():
            Line((29.677293457, 0), (29.677293457, -36.818354434))
            ThreePointArc((29.677293457, -36.818354434), (28.479382469, -38.016265422), (27.281471481, -36.818354434))
            Line((27.281471481, -36.818354434), (27.281471481, 0))
            ThreePointArc((27.281471481, 0), (28.479382469, 1.197910988), (29.677293457, 0))
        make_face()
        with BuildLine():
            Line((35.677293457, 0), (35.677293457, -36.818354434))
            ThreePointArc((35.677293457, -36.818354434), (34.479382469, -38.016265422), (33.281471481, -36.818354434))
            Line((33.281471481, -36.818354434), (33.281471481, 0))
            ThreePointArc((33.281471481, 0), (34.479382469, 1.197910988), (35.677293457, 0))
        make_face()
        with BuildLine():
            Line((41.677293457, 0), (41.677293457, -36.818354434))
            ThreePointArc((41.677293457, -36.818354434), (40.479382469, -38.016265422), (39.281471481, -36.818354434))
            Line((39.281471481, -36.818354434), (39.281471481, 0))
            ThreePointArc((39.281471481, 0), (40.479382469, 1.197910988), (41.677293457, 0))
        make_face()
        with BuildLine():
            Line((47.677293457, 0), (47.677293457, -36.818354434))
            ThreePointArc((47.677293457, -36.818354434), (46.479382469, -38.016265422), (45.281471481, -36.818354434))
            Line((45.281471481, -36.818354434), (45.281471481, 0))
            ThreePointArc((45.281471481, 0), (46.479382469, 1.197910988), (47.677293457, 0))
        make_face()
        with BuildLine():
            Line((53.677293457, 0), (53.677293457, -36.818354434))
            ThreePointArc((53.677293457, -36.818354434), (52.479382469, -38.016265422), (51.281471481, -36.818354434))
            Line((51.281471481, -36.818354434), (51.281471481, 0))
            ThreePointArc((51.281471481, 0), (52.479382469, 1.197910988), (53.677293457, 0))
        make_face()
        with BuildLine():
            Line((59.677293457, 0), (59.677293457, -36.818354434))
            ThreePointArc((59.677293457, -36.818354434), (58.479382469, -38.016265422), (57.281471481, -36.818354434))
            Line((57.281471481, -36.818354434), (57.281471481, 0))
            ThreePointArc((57.281471481, 0), (58.479382469, 1.197910988), (59.677293457, 0))
        make_face()
    extrude(amount=-CUT_EXTRUDE2_DEPTH, mode=Mode.SUBTRACT)


solid = part.part
